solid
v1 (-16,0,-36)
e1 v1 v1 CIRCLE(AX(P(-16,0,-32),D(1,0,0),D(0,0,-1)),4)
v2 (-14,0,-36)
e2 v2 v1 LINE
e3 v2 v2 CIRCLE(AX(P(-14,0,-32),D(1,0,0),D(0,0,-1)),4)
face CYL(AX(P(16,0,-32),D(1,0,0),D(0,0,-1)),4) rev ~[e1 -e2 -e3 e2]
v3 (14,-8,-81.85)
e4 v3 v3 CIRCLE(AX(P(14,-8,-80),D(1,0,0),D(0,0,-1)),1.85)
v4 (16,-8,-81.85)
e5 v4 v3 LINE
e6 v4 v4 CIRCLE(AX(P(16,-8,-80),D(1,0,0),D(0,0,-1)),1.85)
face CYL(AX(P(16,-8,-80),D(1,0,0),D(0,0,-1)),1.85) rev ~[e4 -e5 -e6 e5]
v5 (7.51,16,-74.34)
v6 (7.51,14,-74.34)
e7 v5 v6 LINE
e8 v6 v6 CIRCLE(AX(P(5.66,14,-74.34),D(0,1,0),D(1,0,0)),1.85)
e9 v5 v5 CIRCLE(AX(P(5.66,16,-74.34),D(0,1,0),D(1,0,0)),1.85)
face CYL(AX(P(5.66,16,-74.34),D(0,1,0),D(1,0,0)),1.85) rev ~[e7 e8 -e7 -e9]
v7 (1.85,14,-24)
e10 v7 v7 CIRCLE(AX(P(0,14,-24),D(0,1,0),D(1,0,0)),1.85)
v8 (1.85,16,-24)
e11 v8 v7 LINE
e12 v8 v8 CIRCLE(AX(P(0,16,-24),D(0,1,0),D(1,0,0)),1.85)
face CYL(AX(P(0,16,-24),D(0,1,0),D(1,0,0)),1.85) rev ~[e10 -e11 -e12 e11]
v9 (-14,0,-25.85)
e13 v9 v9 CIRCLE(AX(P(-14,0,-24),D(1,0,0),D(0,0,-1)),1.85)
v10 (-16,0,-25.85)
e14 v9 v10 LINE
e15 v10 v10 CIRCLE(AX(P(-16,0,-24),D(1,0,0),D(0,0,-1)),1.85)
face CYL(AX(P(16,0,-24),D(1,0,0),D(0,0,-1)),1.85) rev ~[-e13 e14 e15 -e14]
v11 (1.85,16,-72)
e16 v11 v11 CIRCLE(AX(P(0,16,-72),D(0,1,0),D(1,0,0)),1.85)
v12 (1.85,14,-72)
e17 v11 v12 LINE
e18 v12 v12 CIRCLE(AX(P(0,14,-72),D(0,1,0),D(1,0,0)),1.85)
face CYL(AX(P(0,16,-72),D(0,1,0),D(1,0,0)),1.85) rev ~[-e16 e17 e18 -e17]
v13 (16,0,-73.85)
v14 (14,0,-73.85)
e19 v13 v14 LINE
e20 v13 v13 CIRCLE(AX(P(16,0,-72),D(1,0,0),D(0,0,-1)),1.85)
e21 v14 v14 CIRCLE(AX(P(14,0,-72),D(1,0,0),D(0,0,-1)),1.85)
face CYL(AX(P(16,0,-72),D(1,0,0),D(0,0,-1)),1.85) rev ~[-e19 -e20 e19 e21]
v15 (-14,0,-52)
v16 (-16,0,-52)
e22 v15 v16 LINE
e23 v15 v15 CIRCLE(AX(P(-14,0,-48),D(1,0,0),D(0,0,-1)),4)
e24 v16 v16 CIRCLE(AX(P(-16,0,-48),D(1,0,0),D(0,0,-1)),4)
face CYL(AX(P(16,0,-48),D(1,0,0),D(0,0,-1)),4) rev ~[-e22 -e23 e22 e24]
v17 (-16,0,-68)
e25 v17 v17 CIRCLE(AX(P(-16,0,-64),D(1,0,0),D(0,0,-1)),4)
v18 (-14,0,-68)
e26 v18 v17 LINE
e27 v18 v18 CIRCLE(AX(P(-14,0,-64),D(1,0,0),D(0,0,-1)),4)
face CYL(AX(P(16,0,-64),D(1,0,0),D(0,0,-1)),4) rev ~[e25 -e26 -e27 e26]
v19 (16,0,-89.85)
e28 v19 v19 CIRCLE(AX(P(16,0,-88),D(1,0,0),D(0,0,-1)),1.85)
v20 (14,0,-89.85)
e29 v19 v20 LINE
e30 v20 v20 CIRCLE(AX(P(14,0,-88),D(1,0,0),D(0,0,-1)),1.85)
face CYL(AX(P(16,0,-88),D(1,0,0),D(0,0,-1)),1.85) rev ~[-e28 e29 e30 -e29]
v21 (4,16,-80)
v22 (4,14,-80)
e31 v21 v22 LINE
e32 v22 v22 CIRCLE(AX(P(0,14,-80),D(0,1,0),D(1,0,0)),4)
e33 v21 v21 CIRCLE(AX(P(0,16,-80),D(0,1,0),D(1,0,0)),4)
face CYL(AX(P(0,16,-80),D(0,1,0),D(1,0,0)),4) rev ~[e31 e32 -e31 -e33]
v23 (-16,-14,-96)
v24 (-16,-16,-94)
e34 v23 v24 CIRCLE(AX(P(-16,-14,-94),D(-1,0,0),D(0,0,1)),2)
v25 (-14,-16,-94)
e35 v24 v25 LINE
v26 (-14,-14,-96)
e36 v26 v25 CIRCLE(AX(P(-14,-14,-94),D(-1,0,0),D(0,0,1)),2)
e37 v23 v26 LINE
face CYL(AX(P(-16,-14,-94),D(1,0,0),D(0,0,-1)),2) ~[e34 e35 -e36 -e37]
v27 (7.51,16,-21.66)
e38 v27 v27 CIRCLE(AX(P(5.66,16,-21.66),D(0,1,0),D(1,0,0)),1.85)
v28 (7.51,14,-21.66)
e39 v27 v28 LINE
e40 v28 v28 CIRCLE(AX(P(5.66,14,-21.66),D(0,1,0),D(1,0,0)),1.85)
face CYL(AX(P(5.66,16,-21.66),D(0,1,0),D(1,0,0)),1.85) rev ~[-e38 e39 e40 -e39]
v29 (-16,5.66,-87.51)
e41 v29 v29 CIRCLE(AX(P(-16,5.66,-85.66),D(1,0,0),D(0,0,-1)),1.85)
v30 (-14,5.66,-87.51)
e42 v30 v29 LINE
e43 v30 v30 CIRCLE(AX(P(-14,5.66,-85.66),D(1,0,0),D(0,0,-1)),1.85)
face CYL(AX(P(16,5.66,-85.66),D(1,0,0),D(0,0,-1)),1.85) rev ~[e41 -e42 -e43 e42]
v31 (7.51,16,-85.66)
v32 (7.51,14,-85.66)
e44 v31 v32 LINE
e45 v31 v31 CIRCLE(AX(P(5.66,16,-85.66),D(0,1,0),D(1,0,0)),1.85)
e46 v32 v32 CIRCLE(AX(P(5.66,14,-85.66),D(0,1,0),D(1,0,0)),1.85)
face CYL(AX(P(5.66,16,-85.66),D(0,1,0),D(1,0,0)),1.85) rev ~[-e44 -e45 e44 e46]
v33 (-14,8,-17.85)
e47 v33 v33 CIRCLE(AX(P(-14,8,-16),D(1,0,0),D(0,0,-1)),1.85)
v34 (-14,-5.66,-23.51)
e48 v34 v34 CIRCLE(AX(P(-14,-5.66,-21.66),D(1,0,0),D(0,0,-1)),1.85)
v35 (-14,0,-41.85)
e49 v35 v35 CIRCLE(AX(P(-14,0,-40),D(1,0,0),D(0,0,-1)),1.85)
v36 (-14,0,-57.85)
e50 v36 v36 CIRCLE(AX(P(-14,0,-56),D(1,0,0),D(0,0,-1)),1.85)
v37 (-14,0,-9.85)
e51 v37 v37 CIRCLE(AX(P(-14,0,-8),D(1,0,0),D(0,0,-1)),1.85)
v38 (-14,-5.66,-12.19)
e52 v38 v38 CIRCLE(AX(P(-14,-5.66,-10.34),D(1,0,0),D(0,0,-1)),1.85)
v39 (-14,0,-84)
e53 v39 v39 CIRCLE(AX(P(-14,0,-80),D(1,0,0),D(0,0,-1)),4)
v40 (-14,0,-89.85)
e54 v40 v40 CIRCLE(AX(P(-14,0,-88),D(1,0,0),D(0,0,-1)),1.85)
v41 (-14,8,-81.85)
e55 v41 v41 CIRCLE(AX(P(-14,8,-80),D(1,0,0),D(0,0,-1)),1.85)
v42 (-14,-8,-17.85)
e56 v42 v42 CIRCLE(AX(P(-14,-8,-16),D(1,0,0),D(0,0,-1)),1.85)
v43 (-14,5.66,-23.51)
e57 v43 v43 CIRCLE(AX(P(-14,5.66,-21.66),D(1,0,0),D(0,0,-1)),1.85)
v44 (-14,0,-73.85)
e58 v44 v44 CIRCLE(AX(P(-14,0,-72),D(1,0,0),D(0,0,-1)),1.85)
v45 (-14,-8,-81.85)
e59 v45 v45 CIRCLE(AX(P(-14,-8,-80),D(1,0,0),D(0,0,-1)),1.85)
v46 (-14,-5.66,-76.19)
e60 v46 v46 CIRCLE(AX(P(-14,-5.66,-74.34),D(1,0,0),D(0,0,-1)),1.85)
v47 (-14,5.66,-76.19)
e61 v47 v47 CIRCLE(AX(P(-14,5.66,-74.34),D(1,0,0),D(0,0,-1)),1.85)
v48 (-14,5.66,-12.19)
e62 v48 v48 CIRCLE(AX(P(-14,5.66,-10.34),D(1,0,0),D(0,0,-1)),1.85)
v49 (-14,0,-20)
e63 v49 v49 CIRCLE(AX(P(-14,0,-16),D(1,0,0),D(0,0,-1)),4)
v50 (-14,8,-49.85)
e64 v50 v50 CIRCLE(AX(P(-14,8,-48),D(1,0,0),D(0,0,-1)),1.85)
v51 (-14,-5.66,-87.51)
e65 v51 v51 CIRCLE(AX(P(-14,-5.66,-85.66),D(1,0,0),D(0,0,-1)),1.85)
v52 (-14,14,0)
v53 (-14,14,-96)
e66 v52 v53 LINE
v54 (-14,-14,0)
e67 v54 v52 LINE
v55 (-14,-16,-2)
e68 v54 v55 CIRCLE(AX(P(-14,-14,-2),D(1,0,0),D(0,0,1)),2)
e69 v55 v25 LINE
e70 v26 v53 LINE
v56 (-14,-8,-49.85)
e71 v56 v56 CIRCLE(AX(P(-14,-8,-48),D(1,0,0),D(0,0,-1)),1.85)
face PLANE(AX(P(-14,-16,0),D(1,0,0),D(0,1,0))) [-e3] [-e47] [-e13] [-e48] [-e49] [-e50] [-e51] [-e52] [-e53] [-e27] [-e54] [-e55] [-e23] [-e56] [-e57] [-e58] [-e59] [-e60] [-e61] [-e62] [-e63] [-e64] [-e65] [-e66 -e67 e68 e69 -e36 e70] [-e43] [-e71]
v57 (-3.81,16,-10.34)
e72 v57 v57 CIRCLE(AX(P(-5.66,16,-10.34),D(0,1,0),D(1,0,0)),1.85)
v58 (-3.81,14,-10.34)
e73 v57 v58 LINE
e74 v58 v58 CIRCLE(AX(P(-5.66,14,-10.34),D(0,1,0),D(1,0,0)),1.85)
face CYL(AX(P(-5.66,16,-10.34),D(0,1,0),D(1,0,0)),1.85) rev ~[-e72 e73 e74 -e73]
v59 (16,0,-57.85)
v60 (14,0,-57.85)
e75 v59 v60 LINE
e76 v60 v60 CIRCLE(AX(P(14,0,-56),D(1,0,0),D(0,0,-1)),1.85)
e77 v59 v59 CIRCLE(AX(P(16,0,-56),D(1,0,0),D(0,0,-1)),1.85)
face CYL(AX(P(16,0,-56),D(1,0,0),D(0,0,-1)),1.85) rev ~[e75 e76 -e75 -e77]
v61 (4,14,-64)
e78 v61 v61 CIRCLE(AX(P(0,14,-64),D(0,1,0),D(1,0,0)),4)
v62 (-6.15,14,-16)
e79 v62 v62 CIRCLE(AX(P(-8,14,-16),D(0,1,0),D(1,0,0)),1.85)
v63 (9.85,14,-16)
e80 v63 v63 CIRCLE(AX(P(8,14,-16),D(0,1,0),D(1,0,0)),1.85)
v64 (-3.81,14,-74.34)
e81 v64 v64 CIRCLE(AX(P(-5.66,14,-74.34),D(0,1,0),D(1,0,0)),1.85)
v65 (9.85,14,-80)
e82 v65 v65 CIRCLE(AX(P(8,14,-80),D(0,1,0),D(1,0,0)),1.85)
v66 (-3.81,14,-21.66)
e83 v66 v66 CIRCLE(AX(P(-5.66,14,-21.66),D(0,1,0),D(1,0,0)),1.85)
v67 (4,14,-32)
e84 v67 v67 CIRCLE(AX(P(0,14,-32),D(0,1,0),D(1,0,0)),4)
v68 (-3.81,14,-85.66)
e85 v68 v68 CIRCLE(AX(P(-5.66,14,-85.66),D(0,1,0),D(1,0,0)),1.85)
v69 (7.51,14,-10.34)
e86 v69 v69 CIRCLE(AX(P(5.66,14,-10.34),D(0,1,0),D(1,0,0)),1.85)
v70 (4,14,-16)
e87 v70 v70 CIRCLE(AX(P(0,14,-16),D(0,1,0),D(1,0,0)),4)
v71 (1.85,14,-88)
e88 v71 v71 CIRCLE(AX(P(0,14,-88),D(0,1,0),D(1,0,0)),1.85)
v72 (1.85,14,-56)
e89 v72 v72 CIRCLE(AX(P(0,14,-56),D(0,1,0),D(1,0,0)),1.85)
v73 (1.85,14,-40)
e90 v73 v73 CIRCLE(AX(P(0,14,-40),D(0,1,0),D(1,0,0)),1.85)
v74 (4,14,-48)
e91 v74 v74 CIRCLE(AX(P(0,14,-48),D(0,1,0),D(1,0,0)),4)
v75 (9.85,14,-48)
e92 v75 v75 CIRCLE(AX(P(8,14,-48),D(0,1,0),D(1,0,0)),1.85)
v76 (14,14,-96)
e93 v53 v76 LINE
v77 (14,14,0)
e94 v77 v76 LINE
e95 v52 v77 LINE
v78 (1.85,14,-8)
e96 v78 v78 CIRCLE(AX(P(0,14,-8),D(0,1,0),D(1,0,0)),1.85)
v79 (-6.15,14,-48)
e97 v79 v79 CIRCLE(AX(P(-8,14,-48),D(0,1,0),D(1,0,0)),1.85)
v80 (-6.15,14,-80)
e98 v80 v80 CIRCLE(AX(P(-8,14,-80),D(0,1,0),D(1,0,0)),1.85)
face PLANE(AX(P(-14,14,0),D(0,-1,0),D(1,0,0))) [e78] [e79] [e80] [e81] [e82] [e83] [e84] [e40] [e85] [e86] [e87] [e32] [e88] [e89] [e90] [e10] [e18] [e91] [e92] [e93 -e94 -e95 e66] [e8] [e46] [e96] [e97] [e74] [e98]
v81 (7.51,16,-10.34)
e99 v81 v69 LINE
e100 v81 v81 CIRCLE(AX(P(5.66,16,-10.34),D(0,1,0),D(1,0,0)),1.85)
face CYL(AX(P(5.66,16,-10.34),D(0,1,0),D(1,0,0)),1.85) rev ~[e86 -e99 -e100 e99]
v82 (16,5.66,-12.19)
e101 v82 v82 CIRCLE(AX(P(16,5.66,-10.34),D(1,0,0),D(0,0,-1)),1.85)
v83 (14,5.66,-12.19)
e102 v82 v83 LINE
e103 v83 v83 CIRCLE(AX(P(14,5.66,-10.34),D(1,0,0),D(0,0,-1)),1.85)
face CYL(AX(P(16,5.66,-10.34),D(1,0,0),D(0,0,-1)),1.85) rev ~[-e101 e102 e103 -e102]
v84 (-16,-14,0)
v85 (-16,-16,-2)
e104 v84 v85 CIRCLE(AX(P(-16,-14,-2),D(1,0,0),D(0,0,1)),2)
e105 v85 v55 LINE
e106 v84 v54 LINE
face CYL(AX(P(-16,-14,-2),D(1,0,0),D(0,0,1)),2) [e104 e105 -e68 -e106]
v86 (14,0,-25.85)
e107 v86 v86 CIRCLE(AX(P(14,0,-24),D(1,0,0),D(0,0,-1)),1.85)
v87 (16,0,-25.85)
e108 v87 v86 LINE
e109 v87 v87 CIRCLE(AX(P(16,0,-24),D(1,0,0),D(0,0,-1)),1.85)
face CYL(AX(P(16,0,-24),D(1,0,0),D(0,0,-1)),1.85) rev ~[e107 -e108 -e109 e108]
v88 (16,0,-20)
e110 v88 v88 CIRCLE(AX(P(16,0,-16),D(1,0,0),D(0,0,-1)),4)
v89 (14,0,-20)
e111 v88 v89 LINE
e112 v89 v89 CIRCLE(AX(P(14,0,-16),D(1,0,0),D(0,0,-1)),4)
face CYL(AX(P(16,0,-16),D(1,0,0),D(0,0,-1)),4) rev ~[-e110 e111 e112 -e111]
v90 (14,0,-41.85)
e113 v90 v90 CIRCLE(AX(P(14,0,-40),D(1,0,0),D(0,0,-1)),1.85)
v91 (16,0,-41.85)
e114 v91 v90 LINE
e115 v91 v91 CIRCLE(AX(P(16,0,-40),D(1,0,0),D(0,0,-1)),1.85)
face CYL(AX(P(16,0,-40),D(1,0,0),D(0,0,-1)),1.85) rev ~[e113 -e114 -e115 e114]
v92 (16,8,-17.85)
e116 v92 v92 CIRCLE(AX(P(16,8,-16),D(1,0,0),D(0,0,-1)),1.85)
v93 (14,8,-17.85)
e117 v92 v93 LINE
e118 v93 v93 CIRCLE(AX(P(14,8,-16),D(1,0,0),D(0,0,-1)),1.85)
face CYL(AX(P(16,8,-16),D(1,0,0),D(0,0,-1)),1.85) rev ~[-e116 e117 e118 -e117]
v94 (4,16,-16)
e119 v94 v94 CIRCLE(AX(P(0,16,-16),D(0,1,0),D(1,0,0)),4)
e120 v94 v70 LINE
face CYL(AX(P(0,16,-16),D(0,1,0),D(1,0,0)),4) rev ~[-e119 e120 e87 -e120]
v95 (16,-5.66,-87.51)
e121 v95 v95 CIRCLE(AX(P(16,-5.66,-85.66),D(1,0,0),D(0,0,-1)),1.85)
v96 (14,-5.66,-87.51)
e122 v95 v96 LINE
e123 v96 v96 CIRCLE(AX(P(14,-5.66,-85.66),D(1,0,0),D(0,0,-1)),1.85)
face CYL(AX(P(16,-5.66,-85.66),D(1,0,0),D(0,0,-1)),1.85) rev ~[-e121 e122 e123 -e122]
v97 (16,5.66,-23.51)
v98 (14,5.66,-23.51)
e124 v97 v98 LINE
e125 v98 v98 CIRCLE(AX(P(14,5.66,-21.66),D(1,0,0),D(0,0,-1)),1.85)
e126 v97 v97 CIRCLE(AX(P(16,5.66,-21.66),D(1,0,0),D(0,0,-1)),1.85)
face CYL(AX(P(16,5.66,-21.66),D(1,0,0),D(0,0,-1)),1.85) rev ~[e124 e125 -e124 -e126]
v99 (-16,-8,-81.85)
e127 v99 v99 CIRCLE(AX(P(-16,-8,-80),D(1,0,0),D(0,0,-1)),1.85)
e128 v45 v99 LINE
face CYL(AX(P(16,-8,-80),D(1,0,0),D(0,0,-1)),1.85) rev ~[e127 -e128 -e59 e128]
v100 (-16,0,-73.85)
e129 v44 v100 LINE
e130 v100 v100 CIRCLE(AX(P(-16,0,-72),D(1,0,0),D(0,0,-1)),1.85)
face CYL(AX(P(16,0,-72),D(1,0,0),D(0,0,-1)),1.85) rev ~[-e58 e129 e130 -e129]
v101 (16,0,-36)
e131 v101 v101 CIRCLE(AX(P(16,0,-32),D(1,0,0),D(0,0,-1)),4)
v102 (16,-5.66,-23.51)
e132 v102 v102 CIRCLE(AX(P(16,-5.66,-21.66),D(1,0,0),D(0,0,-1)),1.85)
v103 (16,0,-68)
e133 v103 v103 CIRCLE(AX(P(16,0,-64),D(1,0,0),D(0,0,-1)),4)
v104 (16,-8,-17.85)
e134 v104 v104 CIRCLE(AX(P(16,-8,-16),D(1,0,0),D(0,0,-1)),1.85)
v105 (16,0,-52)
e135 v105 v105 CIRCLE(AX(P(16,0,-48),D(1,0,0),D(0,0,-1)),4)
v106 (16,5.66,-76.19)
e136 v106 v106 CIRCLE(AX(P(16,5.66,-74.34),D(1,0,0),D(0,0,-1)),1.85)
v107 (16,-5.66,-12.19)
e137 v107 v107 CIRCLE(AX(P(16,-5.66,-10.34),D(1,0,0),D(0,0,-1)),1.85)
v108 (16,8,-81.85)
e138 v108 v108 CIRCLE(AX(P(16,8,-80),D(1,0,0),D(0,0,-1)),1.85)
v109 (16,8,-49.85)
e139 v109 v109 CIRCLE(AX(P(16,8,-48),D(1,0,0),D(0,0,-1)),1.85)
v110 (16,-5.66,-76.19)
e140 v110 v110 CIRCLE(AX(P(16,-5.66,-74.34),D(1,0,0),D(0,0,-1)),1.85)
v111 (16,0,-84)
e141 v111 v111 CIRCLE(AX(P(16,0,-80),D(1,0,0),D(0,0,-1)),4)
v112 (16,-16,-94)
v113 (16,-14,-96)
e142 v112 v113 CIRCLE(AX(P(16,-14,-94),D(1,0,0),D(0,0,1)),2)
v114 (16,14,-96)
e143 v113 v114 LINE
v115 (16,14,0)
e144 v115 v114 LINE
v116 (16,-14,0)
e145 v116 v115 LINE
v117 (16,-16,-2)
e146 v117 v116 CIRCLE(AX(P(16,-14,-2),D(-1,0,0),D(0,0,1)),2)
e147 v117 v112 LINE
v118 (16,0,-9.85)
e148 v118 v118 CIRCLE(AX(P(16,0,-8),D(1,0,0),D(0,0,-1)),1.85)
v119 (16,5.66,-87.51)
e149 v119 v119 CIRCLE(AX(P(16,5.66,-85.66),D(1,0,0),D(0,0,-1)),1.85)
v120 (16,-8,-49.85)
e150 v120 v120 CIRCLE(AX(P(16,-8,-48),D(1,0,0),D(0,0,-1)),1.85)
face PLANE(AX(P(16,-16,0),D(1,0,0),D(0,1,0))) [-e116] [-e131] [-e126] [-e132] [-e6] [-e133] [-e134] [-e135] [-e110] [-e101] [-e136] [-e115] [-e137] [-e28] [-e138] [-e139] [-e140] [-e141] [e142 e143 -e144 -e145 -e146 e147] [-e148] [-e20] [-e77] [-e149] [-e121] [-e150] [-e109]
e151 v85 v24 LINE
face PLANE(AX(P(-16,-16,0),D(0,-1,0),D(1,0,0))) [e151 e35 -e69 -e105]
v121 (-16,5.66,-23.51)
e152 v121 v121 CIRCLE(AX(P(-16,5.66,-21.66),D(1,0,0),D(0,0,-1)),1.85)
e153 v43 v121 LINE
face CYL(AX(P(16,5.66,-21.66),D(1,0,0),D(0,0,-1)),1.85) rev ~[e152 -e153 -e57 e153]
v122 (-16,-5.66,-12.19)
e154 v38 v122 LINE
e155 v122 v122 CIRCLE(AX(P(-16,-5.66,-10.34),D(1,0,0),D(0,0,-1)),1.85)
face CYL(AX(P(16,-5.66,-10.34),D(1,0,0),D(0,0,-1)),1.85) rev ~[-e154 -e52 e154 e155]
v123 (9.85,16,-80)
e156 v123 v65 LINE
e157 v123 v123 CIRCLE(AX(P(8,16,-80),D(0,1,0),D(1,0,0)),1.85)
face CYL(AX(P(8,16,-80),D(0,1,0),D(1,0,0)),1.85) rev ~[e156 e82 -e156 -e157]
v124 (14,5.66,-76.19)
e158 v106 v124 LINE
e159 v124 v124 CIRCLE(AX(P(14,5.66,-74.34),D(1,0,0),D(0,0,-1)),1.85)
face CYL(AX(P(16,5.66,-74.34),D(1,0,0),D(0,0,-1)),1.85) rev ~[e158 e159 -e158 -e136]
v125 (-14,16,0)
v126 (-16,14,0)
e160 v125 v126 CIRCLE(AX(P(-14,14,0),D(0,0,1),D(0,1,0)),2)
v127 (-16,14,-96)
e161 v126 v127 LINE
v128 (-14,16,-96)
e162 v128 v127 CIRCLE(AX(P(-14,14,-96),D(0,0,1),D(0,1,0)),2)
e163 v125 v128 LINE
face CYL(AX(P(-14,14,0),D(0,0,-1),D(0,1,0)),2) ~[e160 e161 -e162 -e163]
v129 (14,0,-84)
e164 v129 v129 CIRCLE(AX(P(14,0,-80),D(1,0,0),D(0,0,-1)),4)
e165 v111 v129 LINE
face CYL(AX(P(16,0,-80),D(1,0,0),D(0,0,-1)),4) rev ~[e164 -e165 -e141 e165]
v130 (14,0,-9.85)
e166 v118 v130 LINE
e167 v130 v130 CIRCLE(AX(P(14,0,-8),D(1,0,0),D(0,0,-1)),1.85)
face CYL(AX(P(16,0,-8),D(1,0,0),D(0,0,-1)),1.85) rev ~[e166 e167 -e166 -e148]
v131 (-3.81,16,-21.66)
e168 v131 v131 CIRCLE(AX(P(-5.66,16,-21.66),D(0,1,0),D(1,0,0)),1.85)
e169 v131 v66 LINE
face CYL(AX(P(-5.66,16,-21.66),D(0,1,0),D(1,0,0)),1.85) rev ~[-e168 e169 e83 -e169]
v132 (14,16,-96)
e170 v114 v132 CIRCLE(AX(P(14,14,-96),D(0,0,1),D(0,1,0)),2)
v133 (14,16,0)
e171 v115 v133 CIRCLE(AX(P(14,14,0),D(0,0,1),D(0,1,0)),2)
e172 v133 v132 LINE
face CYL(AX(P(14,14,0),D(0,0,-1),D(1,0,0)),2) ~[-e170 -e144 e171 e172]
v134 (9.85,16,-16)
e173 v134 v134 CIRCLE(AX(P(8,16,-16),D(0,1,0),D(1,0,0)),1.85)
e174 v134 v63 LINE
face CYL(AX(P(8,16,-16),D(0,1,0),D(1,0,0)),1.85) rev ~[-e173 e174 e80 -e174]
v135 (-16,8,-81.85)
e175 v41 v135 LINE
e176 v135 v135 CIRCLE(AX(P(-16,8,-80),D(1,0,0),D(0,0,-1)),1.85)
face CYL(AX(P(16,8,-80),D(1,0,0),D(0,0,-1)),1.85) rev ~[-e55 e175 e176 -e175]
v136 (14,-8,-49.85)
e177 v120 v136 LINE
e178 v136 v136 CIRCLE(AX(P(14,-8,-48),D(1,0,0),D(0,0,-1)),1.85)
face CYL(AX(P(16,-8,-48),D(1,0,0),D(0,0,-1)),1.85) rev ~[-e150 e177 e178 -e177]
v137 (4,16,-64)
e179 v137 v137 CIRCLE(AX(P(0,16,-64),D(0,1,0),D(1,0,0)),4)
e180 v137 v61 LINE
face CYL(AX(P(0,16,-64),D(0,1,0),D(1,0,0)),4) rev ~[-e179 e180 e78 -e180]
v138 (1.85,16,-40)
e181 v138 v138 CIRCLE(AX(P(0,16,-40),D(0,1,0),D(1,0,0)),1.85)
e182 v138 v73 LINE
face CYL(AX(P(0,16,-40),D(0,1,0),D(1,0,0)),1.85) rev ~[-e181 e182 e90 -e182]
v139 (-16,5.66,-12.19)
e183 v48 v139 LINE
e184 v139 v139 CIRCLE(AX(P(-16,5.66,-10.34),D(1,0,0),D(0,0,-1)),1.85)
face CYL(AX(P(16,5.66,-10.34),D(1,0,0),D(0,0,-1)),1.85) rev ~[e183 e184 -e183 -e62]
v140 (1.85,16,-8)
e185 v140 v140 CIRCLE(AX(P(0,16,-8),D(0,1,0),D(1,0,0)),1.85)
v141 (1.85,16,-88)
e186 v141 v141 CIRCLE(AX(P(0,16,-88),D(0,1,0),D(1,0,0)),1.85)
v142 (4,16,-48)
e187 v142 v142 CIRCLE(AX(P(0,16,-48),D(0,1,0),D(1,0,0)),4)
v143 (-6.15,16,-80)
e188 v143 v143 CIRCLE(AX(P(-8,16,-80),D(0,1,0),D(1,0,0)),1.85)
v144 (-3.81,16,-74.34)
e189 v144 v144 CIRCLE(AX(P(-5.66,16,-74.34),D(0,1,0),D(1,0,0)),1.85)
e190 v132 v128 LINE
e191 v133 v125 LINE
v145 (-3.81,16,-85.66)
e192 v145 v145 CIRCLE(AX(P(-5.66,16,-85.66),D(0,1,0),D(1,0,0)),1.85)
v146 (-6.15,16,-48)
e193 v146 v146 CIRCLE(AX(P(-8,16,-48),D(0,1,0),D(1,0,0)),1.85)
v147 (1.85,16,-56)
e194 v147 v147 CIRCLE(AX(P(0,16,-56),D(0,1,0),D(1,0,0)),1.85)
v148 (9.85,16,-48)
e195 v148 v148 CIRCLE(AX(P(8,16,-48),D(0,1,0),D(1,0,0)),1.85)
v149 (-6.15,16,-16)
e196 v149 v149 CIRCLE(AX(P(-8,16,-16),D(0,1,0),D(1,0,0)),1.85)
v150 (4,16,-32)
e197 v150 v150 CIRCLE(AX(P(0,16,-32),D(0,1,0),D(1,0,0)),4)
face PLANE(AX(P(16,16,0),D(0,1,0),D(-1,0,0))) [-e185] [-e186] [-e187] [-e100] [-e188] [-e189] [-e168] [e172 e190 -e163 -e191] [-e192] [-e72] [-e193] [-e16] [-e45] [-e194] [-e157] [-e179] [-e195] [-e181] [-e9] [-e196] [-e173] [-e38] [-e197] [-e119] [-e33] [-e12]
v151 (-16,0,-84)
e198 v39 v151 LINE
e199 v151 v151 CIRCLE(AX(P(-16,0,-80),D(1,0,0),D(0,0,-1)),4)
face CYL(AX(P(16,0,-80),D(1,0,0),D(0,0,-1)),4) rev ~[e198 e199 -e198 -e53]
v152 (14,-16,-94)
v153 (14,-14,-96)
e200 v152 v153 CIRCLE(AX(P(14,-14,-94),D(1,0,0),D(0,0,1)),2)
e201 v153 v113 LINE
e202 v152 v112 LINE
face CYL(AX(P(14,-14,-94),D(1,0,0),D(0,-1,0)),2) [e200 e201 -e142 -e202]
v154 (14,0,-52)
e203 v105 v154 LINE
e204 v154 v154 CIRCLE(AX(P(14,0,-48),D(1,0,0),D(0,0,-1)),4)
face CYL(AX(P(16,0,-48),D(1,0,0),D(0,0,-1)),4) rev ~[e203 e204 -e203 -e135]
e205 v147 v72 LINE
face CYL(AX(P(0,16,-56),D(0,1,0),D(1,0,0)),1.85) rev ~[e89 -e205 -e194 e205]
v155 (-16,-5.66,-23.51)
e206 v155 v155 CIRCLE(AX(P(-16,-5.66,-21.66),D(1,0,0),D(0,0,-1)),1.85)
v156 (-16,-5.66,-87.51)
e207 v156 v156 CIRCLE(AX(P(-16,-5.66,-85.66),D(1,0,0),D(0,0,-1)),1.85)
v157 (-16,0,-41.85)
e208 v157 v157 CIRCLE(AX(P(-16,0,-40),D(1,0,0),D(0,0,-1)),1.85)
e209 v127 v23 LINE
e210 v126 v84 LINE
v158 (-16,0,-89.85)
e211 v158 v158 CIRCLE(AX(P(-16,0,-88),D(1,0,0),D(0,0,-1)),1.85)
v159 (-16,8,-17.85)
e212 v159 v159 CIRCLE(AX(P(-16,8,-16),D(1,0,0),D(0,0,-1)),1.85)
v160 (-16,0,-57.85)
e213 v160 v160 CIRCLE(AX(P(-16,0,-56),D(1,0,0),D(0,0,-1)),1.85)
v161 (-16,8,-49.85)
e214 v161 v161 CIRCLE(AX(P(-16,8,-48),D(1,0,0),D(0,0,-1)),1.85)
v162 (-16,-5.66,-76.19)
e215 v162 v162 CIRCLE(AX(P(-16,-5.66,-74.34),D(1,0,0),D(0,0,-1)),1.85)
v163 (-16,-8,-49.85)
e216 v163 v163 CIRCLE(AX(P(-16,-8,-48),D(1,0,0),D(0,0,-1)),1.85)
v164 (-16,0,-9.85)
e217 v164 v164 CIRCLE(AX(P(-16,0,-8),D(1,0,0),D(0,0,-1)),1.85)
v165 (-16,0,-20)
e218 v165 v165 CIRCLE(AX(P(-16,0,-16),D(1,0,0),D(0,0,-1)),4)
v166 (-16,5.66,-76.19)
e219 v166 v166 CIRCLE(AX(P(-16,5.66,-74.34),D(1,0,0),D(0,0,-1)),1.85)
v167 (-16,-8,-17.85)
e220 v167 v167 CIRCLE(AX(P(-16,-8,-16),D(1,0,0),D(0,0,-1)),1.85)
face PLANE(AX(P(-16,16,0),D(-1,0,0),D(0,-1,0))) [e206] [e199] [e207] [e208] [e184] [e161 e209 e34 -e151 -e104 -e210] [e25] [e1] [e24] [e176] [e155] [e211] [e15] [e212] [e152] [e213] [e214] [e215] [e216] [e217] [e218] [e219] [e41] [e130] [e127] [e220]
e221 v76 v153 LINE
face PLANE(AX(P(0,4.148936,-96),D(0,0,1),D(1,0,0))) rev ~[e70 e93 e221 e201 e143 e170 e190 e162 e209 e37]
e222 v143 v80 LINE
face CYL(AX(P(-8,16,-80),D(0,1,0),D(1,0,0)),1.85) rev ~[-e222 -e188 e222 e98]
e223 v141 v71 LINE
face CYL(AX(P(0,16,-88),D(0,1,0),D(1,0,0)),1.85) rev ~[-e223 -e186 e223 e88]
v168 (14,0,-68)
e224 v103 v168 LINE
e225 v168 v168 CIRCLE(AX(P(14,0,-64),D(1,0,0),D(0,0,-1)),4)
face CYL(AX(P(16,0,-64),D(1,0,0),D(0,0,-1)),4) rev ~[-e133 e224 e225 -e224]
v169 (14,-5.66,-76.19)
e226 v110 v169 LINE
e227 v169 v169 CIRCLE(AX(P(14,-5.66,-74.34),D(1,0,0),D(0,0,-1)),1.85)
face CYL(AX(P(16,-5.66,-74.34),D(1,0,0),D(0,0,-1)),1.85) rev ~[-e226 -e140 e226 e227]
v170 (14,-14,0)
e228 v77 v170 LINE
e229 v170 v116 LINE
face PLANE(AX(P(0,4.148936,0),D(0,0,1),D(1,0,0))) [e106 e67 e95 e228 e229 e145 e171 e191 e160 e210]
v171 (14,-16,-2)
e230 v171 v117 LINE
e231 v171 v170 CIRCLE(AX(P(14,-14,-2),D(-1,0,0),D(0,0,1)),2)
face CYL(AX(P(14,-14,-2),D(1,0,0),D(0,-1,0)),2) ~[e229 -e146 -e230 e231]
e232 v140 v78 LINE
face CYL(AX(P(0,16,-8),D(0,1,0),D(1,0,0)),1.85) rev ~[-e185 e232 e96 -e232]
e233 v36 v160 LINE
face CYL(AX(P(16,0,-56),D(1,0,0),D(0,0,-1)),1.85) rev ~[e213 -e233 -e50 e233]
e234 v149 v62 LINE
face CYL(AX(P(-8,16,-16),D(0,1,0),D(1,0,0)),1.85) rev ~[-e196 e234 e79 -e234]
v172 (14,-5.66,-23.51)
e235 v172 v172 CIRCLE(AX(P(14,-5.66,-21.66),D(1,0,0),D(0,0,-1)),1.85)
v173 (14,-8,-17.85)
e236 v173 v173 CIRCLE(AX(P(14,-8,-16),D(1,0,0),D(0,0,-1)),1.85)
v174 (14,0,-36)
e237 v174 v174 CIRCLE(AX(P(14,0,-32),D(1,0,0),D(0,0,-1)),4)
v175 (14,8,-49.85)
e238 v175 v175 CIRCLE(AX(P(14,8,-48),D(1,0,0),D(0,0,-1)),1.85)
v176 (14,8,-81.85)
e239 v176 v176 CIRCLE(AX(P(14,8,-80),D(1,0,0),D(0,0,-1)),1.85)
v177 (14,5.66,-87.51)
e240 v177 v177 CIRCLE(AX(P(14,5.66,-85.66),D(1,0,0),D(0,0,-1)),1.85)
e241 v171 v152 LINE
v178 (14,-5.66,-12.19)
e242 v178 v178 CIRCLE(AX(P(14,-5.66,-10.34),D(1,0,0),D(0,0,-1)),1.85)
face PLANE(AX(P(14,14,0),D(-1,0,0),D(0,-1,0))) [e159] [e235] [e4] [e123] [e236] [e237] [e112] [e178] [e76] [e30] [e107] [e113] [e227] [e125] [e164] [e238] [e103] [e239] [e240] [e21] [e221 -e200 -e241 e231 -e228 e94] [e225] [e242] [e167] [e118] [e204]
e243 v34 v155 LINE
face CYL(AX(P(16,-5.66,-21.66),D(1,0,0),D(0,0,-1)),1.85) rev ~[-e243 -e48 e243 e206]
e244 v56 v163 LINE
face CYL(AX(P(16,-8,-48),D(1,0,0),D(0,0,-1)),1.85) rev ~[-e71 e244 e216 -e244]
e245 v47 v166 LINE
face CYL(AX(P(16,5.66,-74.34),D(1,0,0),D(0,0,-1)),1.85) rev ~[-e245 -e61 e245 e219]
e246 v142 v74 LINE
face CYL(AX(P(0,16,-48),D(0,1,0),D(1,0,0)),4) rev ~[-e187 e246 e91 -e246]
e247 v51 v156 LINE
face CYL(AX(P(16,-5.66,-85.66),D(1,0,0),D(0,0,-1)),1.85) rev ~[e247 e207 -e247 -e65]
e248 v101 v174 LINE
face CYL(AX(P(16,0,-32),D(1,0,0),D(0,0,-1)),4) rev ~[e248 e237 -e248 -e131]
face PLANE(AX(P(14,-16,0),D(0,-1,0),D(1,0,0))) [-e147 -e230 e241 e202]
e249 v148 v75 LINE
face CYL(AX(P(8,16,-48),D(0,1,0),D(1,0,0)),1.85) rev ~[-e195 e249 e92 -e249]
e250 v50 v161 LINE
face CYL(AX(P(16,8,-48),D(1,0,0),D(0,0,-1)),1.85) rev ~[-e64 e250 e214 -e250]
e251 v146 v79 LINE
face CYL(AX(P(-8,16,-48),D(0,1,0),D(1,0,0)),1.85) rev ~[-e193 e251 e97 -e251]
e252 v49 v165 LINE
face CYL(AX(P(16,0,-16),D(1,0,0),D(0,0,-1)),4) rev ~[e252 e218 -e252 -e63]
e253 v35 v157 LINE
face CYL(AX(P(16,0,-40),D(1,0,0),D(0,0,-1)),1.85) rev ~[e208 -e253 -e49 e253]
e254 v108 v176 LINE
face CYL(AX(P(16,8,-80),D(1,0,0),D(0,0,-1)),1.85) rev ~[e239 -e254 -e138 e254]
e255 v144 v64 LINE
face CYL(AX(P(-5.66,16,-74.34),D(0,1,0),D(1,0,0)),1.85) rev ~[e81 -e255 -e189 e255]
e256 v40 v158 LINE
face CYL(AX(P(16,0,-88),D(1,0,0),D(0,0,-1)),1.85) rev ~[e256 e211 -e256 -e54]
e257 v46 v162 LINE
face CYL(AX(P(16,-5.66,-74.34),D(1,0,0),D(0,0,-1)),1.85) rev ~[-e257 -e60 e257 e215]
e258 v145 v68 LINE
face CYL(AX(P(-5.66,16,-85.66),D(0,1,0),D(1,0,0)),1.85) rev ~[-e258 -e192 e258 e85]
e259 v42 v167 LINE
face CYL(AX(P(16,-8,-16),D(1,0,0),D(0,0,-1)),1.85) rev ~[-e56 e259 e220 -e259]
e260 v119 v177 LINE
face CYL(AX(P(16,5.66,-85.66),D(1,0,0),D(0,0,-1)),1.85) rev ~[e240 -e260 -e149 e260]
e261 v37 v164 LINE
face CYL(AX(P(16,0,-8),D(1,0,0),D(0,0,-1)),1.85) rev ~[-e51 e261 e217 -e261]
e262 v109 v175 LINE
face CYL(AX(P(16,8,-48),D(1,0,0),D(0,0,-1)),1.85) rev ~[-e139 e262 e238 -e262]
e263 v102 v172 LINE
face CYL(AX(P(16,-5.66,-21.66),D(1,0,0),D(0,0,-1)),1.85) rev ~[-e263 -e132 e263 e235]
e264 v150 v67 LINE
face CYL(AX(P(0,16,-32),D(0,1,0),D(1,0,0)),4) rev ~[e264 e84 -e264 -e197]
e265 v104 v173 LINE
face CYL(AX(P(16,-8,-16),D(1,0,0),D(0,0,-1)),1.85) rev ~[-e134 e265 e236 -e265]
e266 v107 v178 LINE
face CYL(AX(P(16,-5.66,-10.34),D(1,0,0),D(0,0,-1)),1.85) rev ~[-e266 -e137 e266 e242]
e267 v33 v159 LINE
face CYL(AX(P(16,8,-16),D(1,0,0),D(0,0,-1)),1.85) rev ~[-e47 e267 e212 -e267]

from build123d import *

# Parameters (mm, degrees)
BOSS_EXTRUDE1_DEPTH = 96
SKETCH2_R           = 4
SKETCH2_R_2         = 1.85
CUT_EXTRUDE1_DEPTH  = 33
SKETCH3_R           = 4
SKETCH3_R_2         = 1.85
CUT_EXTRUDE2_DEPTH  = 33
FILLET1_R           = 2


with BuildPart() as part:
    # Sketch1 → Boss-Extrude1 (new body)
    with BuildSketch(Plane.XY):
        Polygon((14, -16), (16, -16), (16, 16), (-16, 16), (-16, -16), (-14, -16), (-14, 14), (14, 14), align=None)
    extrude(amount=-BOSS_EXTRUDE1_DEPTH)

    # Sketch2 → Cut-Extrude1 (cut, through all)
    with BuildSketch(Plane(origin=(0, 16, 0), x_dir=(1, 0, 0), z_dir=(0, 1, 0))):
        with Locations((0, 32)):
            Circle(SKETCH2_R)
        with Locations((0, 64)):
            Circle(SKETCH2_R)
        with Locations((0, 48)):
            Circle(SKETCH2_R)
        with Locations((0, 56)):
            Circle(SKETCH2_R_2)
        with Locations((0, 40)):
            Circle(SKETCH2_R_2)
        with Locations((8, 48)):
            Circle(SKETCH2_R_2)
        with Locations((-8, 48)):
            Circle(SKETCH2_R_2)
        with Locations((0, 24)):
            Circle(SKETCH2_R_2)
        with Locations((8, 16)):
            Circle(SKETCH2_R_2)
        with Locations((0, 16)):
            Circle(SKETCH2_R)
        with Locations((-8, 16)):
            Circle(SKETCH2_R_2)
        with Locations((-5.66, 10.34)):
            Circle(SKETCH2_R_2)
        with Locations((5.66, 10.34)):
            Circle(SKETCH2_R_2)
        with Locations((0, 8)):
            Circle(SKETCH2_R_2)
        with Locations((-5.66, 21.66)):
            Circle(SKETCH2_R_2)
        with Locations((5.66, 21.66)):
            Circle(SKETCH2_R_2)
        with Locations((0, 88)):
            Circle(SKETCH2_R_2)
        with Locations((8, 80)):
            Circle(SKETCH2_R_2)
        with Locations((0, 80)):
            Circle(SKETCH2_R)
        with Locations((-8, 80)):
            Circle(SKETCH2_R_2)
        with Locations((-5.66, 74.34)):
            Circle(SKETCH2_R_2)
        with Locations((5.66, 74.34)):
            Circle(SKETCH2_R_2)
        with Locations((0, 72)):
            Circle(SKETCH2_R_2)
        with Locations((-5.66, 85.66)):
            Circle(SKETCH2_R_2)
        with Locations((5.66, 85.66)):
            Circle(SKETCH2_R_2)
    extrude(amount=-CUT_EXTRUDE1_DEPTH, mode=Mode.SUBTRACT)

    # Sketch3 → Cut-Extrude2 (cut, through all)
    with BuildSketch(Plane(origin=(16, 0, 0), x_dir=(0, 0, -1), z_dir=(1, 0, 0))):
        with Locations((64, 0)):
            Circle(SKETCH3_R)
        with Locations((32, 0)):
            Circle(SKETCH3_R)
        with Locations((48, 0)):
            Circle(SKETCH3_R)
        with Locations((40, 0)):
            Circle(SKETCH3_R_2)
        with Locations((56, 0)):
            Circle(SKETCH3_R_2)
        with Locations((48, 8)):
            Circle(SKETCH3_R_2)
        with Locations((48, -8)):
            Circle(SKETCH3_R_2)
        with Locations((72, 0)):
            Circle(SKETCH3_R_2)
        with Locations((80, 8)):
            Circle(SKETCH3_R_2)
        with Locations((80, 0)):
            Circle(SKETCH3_R)
        with Locations((80, -8)):
            Circle(SKETCH3_R_2)
        with Locations((85.66, -5.66)):
            Circle(SKETCH3_R_2)
        with Locations((85.66, 5.66)):
            Circle(SKETCH3_R_2)
        with Locations((88, 0)):
            Circle(SKETCH3_R_2)
        with Locations((74.34, -5.66)):
            Circle(SKETCH3_R_2)
        with Locations((74.34, 5.66)):
            Circle(SKETCH3_R_2)
        with Locations((8, 0)):
            Circle(SKETCH3_R_2)
        with Locations((16, 8)):
            Circle(SKETCH3_R_2)
        with Locations((16, 0)):
            Circle(SKETCH3_R)
        with Locations((16, -8)):
            Circle(SKETCH3_R_2)
        with Locations((21.66, -5.66)):
            Circle(SKETCH3_R_2)
        with Locations((21.66, 5.66)):
            Circle(SKETCH3_R_2)
        with Locations((24, 0)):
            Circle(SKETCH3_R_2)
        with Locations((10.34, -5.66)):
            Circle(SKETCH3_R_2)
        with Locations((10.34, 5.66)):
            Circle(SKETCH3_R_2)
    extrude(amount=-CUT_EXTRUDE2_DEPTH, mode=Mode.SUBTRACT)

    # Fillet1
    fillet1_edges = [part.edges().sort_by_distance(p)[0] for p in [
        (-15, -16, -96),
        (-16, 16, -48),
        (16, 16, -48),
        (15, -16, -96),
        (15, -16, 0),
        (-15, -16, 0),
    ]]
    fillet(fillet1_edges, radius=FILLET1_R)


solid = part.part
